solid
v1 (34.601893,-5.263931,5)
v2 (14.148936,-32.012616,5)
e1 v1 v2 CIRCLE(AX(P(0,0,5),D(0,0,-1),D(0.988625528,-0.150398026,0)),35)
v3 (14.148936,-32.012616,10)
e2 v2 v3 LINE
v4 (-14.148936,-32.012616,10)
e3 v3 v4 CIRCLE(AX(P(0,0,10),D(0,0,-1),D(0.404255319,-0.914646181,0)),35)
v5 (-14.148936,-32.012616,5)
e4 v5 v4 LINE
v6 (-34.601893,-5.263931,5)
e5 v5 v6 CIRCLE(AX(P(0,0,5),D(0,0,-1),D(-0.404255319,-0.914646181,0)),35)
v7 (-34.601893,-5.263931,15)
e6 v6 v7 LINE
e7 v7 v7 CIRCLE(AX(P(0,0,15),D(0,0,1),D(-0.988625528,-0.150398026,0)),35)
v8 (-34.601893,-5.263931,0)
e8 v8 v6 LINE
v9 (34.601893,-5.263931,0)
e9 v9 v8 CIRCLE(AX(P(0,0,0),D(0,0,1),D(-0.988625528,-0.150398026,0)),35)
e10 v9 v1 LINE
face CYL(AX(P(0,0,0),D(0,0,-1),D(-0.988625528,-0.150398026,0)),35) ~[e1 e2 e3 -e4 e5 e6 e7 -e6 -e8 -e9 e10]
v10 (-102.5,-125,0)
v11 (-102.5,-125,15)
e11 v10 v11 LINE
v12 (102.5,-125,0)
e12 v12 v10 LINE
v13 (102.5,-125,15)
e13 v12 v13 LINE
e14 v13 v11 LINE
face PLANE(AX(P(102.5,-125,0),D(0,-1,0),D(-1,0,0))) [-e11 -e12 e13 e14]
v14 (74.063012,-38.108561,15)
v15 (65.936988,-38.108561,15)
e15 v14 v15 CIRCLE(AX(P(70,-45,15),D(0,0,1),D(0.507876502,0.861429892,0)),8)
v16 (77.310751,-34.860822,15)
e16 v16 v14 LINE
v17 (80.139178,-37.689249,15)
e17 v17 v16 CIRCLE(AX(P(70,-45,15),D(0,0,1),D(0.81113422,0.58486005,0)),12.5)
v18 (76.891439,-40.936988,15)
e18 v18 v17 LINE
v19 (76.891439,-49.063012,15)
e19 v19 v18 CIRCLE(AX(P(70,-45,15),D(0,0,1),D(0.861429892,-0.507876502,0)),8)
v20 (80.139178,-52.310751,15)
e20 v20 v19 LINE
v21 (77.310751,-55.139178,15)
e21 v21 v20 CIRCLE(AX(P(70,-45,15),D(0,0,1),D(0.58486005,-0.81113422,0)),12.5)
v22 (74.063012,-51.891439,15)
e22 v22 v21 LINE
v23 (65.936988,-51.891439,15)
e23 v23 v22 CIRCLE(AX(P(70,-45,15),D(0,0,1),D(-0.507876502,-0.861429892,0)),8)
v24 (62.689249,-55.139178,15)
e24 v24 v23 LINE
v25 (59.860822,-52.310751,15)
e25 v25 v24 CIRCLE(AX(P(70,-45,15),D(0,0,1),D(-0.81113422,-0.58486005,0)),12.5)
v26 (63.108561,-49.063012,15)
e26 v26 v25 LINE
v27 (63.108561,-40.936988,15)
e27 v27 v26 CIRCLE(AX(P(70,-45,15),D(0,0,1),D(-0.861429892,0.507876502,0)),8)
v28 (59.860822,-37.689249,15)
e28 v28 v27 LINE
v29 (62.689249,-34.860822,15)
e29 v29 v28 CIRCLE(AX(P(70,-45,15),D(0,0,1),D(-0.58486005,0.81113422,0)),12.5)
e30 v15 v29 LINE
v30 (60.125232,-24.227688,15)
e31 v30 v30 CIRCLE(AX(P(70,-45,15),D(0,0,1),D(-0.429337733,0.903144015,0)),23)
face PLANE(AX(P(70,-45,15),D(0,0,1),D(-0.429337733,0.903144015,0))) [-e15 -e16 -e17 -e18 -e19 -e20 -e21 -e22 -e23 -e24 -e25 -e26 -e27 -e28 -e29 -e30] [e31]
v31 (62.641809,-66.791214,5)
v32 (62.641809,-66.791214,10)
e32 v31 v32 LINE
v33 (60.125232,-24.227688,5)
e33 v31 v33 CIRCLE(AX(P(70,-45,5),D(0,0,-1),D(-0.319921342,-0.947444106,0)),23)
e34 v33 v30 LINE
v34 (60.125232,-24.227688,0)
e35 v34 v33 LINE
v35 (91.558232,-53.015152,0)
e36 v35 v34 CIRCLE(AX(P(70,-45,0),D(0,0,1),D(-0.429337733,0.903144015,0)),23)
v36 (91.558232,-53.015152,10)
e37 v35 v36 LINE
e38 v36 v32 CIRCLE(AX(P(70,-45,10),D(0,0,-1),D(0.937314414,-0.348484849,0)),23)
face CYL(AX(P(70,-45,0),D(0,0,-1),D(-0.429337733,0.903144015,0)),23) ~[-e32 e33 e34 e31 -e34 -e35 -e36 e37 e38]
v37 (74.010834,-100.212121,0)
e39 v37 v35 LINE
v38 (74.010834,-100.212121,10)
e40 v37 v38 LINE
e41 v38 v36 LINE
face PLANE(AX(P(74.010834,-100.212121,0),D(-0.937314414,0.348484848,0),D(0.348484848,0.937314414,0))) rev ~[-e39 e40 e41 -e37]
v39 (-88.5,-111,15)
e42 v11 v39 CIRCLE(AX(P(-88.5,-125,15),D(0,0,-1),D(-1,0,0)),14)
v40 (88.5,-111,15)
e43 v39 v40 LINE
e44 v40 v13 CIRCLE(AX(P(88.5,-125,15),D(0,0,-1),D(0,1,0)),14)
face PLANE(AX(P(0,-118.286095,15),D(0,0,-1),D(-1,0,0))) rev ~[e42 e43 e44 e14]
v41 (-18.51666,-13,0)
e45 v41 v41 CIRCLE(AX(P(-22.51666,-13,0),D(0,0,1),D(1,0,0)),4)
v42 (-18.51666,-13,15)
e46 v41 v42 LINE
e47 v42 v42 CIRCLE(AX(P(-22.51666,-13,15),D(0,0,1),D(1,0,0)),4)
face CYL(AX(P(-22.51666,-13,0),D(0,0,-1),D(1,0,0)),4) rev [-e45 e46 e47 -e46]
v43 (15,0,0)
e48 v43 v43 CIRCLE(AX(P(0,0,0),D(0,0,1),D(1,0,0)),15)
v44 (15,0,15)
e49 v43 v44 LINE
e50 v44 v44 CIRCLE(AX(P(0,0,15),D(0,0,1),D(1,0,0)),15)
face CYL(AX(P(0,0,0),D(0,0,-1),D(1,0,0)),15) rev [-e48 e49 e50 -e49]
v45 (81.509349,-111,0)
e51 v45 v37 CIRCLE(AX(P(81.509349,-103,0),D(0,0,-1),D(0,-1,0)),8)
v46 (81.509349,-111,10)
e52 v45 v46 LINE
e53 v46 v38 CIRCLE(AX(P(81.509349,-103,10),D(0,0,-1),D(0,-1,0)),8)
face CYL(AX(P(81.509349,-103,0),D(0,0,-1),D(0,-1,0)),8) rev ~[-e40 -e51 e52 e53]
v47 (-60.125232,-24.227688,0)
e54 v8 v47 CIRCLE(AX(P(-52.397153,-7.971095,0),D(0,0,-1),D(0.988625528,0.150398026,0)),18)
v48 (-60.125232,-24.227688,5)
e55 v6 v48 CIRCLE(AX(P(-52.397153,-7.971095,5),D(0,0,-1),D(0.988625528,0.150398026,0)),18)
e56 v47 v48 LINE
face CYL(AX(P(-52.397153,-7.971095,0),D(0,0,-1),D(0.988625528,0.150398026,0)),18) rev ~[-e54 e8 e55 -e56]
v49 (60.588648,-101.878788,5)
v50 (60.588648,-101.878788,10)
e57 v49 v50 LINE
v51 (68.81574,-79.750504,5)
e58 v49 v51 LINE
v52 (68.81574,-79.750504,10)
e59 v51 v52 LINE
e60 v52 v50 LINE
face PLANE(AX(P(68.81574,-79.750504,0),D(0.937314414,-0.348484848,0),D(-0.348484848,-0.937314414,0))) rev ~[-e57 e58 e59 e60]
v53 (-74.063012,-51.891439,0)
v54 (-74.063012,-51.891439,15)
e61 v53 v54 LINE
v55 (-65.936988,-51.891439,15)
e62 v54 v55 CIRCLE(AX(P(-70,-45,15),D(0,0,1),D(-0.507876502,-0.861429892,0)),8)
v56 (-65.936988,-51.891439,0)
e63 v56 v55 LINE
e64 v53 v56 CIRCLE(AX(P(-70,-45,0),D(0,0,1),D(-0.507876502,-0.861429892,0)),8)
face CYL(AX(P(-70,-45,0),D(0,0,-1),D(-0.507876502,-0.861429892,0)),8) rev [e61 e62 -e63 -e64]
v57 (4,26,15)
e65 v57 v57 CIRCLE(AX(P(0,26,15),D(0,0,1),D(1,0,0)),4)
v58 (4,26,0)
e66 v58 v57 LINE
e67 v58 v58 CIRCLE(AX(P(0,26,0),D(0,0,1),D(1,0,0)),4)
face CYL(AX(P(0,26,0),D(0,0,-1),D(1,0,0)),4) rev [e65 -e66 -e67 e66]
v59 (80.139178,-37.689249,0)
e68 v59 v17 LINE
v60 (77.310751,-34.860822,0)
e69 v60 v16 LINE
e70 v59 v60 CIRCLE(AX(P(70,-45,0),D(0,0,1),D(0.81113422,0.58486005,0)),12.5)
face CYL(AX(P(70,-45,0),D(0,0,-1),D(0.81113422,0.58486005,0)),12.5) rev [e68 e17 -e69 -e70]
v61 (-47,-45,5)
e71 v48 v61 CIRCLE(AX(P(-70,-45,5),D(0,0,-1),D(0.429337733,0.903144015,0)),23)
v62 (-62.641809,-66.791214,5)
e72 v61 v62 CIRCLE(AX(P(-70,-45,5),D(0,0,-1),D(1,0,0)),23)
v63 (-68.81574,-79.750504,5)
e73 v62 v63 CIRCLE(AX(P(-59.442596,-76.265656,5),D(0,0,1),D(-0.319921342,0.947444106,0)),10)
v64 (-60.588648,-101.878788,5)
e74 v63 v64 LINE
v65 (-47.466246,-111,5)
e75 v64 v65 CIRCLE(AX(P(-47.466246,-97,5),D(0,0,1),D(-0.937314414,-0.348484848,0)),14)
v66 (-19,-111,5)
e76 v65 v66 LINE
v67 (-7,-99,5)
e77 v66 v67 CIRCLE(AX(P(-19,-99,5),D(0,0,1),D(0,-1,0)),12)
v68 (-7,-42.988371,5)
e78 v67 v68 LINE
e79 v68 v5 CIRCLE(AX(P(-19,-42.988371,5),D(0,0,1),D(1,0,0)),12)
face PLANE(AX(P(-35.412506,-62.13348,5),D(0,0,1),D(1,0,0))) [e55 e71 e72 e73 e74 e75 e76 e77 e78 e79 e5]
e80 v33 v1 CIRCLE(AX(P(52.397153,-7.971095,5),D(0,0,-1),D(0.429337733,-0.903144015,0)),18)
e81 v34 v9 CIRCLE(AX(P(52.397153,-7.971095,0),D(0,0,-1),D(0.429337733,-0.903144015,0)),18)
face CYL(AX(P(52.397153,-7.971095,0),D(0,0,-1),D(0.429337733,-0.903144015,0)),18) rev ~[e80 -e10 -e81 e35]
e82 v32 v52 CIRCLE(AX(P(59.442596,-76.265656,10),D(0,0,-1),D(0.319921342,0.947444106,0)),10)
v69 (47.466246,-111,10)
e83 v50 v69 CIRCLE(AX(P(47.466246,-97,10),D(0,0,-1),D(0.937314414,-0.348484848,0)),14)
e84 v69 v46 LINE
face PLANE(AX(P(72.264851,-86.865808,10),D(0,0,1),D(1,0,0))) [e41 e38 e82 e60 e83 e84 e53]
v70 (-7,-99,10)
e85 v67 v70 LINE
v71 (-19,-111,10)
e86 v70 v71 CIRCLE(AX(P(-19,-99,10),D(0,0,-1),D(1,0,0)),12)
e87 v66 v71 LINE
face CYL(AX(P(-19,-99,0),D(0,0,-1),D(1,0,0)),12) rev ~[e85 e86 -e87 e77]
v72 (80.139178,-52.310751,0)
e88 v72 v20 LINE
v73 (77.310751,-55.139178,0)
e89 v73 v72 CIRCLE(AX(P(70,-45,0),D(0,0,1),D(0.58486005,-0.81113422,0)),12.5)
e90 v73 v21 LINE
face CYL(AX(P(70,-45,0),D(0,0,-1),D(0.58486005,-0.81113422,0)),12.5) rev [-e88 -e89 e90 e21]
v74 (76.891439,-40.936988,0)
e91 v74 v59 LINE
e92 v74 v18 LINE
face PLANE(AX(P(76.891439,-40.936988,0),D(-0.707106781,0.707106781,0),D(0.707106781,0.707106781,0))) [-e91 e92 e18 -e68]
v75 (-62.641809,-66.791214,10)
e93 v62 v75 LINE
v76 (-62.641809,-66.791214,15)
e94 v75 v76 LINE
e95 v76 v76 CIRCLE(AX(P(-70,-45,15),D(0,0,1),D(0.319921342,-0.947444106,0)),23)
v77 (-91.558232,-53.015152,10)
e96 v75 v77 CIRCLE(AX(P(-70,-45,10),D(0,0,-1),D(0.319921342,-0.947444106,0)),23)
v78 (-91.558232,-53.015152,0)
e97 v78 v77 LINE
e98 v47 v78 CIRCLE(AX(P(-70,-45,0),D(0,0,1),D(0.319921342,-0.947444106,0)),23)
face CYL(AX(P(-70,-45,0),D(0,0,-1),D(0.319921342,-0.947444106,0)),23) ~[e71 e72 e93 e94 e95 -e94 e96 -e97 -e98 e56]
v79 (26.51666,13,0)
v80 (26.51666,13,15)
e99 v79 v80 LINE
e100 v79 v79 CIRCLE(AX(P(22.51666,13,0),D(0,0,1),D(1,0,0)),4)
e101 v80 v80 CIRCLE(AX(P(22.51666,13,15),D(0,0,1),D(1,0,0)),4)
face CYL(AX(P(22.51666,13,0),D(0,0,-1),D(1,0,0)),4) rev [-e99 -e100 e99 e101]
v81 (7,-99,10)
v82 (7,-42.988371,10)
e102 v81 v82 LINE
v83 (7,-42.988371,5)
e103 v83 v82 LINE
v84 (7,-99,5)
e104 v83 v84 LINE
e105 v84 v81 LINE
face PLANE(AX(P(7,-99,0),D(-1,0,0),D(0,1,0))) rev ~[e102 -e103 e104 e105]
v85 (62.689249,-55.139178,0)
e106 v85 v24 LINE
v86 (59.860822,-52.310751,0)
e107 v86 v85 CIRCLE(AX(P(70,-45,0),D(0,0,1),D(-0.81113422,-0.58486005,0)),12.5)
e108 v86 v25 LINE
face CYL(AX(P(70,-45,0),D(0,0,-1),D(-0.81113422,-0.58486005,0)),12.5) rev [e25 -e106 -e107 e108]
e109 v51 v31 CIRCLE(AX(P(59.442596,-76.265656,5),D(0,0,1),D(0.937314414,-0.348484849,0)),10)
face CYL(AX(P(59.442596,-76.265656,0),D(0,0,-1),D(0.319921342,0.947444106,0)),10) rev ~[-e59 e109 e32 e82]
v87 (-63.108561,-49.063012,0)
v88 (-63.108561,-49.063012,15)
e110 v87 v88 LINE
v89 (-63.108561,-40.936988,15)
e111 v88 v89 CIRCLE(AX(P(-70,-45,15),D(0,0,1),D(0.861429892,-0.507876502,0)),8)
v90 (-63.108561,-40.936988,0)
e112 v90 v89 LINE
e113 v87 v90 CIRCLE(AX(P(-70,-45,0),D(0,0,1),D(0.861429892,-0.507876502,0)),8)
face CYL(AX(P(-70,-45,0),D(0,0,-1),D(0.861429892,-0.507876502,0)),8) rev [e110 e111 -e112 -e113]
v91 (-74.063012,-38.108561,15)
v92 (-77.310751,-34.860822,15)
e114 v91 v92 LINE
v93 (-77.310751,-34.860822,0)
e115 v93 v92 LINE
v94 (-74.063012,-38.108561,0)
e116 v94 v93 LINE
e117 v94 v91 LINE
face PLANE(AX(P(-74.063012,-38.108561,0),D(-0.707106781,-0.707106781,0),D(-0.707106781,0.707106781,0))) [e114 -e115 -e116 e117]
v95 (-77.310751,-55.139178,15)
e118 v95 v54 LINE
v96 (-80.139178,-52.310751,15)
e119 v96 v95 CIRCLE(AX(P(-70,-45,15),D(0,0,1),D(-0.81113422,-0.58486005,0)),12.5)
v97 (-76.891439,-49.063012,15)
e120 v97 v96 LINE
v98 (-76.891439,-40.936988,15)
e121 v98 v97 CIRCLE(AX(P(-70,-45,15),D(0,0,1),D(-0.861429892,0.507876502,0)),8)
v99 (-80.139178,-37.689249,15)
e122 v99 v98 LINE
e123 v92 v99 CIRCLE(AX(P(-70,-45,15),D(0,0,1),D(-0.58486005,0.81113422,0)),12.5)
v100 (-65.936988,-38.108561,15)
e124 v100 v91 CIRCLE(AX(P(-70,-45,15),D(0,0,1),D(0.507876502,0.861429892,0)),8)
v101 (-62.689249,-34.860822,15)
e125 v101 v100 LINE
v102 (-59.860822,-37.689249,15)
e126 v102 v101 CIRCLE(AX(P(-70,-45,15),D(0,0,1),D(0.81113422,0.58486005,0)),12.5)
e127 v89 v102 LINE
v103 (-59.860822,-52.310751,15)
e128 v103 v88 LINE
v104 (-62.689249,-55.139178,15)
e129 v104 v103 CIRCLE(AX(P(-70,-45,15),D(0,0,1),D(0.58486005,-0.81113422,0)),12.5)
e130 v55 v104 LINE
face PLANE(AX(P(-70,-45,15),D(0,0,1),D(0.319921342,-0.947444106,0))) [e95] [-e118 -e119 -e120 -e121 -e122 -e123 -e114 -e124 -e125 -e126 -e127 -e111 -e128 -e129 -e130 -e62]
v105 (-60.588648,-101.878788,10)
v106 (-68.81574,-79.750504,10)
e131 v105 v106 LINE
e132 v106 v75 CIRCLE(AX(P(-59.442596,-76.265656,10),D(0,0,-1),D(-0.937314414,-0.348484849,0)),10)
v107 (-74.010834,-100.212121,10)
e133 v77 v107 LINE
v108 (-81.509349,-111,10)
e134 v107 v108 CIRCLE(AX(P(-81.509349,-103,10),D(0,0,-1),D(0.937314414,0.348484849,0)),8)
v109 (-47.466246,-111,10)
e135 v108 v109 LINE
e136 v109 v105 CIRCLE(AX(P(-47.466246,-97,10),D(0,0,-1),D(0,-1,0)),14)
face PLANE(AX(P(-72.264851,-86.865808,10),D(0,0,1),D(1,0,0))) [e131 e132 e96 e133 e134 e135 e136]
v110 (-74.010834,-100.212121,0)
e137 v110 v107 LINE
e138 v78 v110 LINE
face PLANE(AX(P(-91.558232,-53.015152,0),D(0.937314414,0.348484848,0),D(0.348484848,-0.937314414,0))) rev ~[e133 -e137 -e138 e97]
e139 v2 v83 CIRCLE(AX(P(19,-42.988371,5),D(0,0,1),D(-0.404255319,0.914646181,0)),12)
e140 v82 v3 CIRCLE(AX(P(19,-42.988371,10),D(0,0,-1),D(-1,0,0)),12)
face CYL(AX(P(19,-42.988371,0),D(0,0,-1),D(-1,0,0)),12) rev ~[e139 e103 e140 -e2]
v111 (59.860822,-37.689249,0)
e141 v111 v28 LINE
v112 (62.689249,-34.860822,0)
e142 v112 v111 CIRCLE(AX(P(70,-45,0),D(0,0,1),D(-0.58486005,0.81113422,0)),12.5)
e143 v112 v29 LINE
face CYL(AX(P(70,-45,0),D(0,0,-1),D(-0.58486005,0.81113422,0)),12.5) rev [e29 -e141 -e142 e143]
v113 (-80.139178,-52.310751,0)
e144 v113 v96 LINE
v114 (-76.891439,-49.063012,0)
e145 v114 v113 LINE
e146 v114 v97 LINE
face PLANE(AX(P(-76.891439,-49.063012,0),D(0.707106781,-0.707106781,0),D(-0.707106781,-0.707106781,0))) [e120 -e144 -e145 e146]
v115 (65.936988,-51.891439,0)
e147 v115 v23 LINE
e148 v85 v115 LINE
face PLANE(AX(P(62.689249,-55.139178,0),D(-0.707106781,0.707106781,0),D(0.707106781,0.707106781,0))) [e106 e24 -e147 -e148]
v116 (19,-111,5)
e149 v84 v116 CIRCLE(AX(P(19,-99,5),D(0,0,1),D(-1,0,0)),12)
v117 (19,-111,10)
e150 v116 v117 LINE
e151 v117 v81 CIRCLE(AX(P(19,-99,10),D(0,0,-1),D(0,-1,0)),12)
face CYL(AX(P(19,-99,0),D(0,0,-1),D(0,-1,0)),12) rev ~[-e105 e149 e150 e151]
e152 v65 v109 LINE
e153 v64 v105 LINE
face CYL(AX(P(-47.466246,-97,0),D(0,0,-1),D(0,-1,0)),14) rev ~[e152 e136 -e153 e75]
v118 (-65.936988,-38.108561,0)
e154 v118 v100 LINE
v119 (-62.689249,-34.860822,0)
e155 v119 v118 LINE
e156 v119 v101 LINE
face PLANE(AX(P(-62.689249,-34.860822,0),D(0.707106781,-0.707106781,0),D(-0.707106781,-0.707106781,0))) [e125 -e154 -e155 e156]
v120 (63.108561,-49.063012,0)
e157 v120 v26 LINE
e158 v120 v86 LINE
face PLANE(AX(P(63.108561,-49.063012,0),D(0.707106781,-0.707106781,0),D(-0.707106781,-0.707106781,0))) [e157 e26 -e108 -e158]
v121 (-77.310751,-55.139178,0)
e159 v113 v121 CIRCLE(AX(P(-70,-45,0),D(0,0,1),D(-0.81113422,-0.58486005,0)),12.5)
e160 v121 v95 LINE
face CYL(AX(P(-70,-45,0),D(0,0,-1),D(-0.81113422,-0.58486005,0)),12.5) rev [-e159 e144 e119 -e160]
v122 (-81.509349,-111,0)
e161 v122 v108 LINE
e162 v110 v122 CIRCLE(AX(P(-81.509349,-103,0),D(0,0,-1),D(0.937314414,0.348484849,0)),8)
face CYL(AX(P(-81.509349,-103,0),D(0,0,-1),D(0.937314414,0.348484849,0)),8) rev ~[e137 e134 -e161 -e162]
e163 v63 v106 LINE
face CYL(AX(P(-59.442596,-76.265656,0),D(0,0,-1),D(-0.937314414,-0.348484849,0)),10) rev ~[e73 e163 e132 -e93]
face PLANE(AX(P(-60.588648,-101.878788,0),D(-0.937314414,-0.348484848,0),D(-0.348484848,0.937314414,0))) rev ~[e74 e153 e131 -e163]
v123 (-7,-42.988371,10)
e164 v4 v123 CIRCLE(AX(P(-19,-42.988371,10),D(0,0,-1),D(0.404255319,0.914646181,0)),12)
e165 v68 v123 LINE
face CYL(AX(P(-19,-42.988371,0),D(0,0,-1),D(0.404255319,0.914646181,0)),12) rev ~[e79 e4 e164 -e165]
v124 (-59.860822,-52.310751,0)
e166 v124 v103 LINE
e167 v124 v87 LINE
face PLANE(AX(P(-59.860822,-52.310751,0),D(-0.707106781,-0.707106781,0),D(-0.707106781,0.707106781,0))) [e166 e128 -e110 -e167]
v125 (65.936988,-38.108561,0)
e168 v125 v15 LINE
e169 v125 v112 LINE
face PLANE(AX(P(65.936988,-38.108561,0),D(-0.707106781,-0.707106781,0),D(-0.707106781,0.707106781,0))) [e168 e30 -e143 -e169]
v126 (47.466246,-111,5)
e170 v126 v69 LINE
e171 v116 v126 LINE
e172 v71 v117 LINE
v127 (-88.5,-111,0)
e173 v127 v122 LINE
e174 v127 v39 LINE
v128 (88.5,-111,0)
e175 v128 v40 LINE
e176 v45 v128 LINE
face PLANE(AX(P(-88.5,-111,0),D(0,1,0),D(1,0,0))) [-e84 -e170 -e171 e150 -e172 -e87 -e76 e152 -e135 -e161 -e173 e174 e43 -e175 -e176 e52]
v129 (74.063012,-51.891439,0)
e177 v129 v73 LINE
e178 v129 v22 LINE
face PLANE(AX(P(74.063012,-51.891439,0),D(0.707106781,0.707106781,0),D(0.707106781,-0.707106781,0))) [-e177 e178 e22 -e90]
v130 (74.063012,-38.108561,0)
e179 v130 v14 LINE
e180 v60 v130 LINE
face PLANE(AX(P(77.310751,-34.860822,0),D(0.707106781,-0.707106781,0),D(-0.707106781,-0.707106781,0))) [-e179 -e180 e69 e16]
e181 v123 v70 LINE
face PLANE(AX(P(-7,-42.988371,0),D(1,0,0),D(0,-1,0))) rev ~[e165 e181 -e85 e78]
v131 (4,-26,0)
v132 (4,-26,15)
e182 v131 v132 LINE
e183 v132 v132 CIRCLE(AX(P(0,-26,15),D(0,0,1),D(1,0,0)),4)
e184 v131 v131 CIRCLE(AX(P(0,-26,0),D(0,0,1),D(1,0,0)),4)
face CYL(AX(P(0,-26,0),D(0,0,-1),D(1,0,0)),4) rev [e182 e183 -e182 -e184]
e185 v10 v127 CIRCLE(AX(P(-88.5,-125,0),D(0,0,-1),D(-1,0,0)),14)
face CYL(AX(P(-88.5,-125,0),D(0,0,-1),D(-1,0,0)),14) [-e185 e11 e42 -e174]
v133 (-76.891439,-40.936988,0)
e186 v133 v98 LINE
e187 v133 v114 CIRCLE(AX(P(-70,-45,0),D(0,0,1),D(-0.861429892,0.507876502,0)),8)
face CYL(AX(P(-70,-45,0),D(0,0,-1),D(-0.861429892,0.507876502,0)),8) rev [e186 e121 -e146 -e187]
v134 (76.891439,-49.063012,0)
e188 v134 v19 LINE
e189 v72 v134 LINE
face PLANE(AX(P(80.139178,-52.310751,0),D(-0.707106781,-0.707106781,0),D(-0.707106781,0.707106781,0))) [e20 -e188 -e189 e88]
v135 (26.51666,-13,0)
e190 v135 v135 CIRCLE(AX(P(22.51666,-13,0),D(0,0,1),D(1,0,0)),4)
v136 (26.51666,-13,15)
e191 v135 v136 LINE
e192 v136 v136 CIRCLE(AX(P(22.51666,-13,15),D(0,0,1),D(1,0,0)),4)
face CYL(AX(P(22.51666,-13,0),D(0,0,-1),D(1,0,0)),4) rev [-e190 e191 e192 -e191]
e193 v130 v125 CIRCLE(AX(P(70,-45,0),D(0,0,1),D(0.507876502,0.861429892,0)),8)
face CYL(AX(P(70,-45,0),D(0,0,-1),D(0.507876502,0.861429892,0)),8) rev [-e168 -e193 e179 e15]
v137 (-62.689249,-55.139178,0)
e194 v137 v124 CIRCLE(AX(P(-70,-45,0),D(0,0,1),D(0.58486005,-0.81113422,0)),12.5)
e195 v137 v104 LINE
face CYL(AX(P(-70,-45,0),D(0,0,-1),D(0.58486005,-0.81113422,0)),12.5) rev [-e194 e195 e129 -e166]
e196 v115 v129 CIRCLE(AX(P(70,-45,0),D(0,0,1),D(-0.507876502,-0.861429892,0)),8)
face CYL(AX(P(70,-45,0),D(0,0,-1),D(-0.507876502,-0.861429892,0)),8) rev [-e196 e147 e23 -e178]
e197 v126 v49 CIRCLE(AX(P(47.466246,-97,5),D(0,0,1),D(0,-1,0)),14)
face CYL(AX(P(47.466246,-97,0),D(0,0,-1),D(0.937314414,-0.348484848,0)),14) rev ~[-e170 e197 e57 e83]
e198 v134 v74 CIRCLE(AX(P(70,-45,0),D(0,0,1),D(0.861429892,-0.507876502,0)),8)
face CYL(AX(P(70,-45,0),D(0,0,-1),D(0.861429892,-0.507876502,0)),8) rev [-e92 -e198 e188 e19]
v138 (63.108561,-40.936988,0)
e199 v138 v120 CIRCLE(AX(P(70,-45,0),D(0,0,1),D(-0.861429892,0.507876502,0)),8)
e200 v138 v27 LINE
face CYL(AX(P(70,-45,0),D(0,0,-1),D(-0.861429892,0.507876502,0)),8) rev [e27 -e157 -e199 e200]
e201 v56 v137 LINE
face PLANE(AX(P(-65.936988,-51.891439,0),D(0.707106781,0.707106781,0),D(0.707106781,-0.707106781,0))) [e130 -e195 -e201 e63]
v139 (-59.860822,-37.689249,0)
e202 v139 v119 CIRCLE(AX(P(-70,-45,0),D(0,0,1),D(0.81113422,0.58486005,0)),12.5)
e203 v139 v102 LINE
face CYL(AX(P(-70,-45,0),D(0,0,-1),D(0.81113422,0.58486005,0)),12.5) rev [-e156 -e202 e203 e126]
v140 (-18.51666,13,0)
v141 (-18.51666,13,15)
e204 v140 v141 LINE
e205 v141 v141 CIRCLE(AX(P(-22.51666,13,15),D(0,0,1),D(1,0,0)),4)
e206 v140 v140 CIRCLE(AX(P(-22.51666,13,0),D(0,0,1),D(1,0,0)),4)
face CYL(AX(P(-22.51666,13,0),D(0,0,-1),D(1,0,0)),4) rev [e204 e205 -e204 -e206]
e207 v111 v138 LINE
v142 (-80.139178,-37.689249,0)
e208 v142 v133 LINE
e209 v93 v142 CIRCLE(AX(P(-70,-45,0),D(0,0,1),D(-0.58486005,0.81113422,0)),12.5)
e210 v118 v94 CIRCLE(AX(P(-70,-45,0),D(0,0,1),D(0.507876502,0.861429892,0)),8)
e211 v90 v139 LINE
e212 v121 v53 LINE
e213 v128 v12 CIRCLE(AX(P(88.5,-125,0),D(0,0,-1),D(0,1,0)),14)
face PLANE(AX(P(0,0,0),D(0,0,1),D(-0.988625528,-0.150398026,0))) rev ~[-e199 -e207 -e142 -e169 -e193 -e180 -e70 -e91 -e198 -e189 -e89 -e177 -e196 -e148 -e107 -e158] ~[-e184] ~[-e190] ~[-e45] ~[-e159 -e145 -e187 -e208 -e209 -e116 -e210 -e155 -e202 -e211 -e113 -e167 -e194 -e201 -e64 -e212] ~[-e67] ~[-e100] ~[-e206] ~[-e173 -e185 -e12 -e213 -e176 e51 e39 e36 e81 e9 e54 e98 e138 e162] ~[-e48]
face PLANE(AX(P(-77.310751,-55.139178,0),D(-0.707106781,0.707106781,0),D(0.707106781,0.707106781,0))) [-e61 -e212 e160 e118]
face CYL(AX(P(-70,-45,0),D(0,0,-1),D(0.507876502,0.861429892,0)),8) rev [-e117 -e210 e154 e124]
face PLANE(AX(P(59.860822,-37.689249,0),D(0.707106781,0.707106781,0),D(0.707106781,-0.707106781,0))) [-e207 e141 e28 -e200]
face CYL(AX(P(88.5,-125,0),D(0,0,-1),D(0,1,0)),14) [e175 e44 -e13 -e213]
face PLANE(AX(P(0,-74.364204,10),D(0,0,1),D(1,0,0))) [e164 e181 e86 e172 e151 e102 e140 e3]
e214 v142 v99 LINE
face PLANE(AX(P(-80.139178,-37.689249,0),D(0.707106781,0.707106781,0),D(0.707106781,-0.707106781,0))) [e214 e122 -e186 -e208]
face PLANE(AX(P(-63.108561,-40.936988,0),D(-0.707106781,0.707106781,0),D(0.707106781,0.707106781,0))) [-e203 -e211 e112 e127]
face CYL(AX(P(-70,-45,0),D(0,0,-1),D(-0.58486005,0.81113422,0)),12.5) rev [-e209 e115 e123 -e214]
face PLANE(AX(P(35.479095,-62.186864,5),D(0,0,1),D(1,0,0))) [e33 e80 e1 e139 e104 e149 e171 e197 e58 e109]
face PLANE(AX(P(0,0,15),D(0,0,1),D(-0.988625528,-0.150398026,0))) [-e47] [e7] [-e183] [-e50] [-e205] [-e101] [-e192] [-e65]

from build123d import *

# Parameters (mm, degrees)
EXTRUDE_1_DEPTH   = 5
EXTRUDE_1_2_DEPTH = 5
SKETCH_1_3_R      = 35
SKETCH_1_3_R_2    = 4
SKETCH_1_3_R_3    = 15
SKETCH_1_3_R_4    = 23
EXTRUDE_2_DEPTH   = 15
EXTRUDE_3_DEPTH   = 10


with BuildPart() as part:
    # Эскиз1 → Бобышка-Вытянуть1 (new body)
    with BuildSketch(Plane.XY):
        with BuildLine():
            Line((-7, -99), (-7, -42.98837052))
            ThreePointArc((-7, -42.98837052), (-8.944833021, -36.439048645), (-14.14893617, -32.012616345))
            ThreePointArc((-14.14893617, -32.012616345), (-27.803487019, -21.259494575), (-34.601893463, -5.263930923))
            ThreePointArc((-34.601893463, -5.263930923), (-41.662021509, -22.419519283), (-60.125232147, -24.227687662))
            ThreePointArc((-60.125232147, -24.227687662), (-47.040096479, -46.357508857), (-62.641809124, -66.791214446))
            ThreePointArc((-62.641809124, -66.791214446), (-68.470432654, -71.964706785), (-68.815739838, -79.750503994))
            Line((-68.815739838, -79.750503994), (-60.588648114, -101.878787879))
            ThreePointArc((-60.588648114, -101.878787879), (-55.456771013, -108.495717253), (-47.466246321, -111))
            Line((-47.466246321, -111), (-19, -111))
            ThreePointArc((-19, -111), (-10.514718626, -107.485281374), (-7, -99))
        make_face()
    extrude(amount=EXTRUDE_1_DEPTH)



with BuildPart() as body_2:
    # Эскиз1 → Extrude 1 2 (new body)
    with BuildSketch(Plane.XY):
        with BuildLine():
            ThreePointArc((34.601893463, -5.263930923), (27.803487019, -21.259494575), (14.14893617, -32.012616345))
            ThreePointArc((14.14893617, -32.012616345), (8.944833021, -36.439048645), (7, -42.98837052))
            Line((7, -42.98837052), (7, -99))
            ThreePointArc((7, -99), (10.514718626, -107.485281374), (19, -111))
            Line((19, -111), (47.466246321, -111))
            ThreePointArc((47.466246321, -111), (55.456771013, -108.495717253), (60.588648114, -101.878787879))
            Line((60.588648114, -101.878787879), (68.815739838, -79.750503994))
            ThreePointArc((68.815739838, -79.750503994), (68.470432654, -71.964706785), (62.641809124, -66.791214446))
            ThreePointArc((62.641809124, -66.791214446), (47.040096479, -46.357508857), (60.125232147, -24.227687662))
            ThreePointArc((60.125232147, -24.227687662), (41.662021509, -22.419519283), (34.601893463, -5.263930923))
        make_face()
    extrude(amount=EXTRUDE_1_2_DEPTH)


with BuildPart() as part_1:
    add(part.part)

    add(body_2.part)  # Бобышка-Вытянуть2 merges body 2
    # Эскиз1<3> → Бобышка-Вытянуть2 (add)
    # profile 1 of 4: a face of its own
    with BuildSketch(Plane.XY):
        Circle(SKETCH_1_3_R)
        with Locations((0, -26)):
            Circle(SKETCH_1_3_R_2, mode=Mode.SUBTRACT)
        with Locations((-22.516660498, -13)):
            Circle(SKETCH_1_3_R_2, mode=Mode.SUBTRACT)
        Circle(SKETCH_1_3_R_3, mode=Mode.SUBTRACT)
        with Locations((-22.516660498, 13)):
            Circle(SKETCH_1_3_R_2, mode=Mode.SUBTRACT)
        with Locations((0, 26)):
            Circle(SKETCH_1_3_R_2, mode=Mode.SUBTRACT)
        with Locations((22.516660498, -13)):
            Circle(SKETCH_1_3_R_2, mode=Mode.SUBTRACT)
        with Locations((22.516660498, 13)):
            Circle(SKETCH_1_3_R_2, mode=Mode.SUBTRACT)
    # profile 2 of 4: a face of its own
    with BuildSketch(Plane.XY):
        with BuildLine():
            Line((88.5, -111), (-88.5, -111))
            ThreePointArc((-88.5, -111), (-98.399494937, -115.100505063), (-102.5, -125))
            Line((-102.5, -125), (102.5, -125))
            ThreePointArc((102.5, -125), (98.399494937, -115.100505063), (88.5, -111))
        make_face()
    # profile 3 of 4: a face of its own
    with BuildSketch(Plane.XY):
        with Locations((-70, -45)):
            Circle(SKETCH_1_3_R_4)
        with BuildLine():
            ThreePointArc((-59.860822254, -52.310750621), (-61.161165235, -53.838834765), (-62.689249379, -55.139177746))
            Line((-62.689249379, -55.139177746), (-65.936987987, -51.891439137))
            ThreePointArc((-65.936987987, -51.891439137), (-70, -53), (-74.063012013, -51.891439137))
            Line((-74.063012013, -51.891439137), (-77.310750621, -55.139177746))
            ThreePointArc((-77.310750621, -55.139177746), (-78.838834765, -53.838834765), (-80.139177746, -52.310750621))
            Line((-80.139177746, -52.310750621), (-76.891439137, -49.063012013))
            ThreePointArc((-76.891439137, -49.063012013), (-78, -45), (-76.891439137, -40.936987987))
            Line((-76.891439137, -40.936987987), (-80.139177746, -37.689249379))
            ThreePointArc((-80.139177746, -37.689249379), (-78.838834765, -36.161165235), (-77.310750621, -34.860822254))
            Line((-77.310750621, -34.860822254), (-74.063012013, -38.108560863))
            ThreePointArc((-74.063012013, -38.108560863), (-70, -37), (-65.936987987, -38.108560863))
            Line((-65.936987987, -38.108560863), (-62.689249379, -34.860822254))
            ThreePointArc((-62.689249379, -34.860822254), (-61.161165235, -36.161165235), (-59.860822254, -37.689249379))
            Line((-59.860822254, -37.689249379), (-63.108560863, -40.936987987))
            ThreePointArc((-63.108560863, -40.936987987), (-62, -45), (-63.108560863, -49.063012013))
            Line((-63.108560863, -49.063012013), (-59.860822254, -52.310750621))
        make_face(mode=Mode.SUBTRACT)
    # profile 4 of 4: a face of its own
    with BuildSketch(Plane.XY):
        with Locations((70, -45)):
            Circle(SKETCH_1_3_R_4)
        with BuildLine():
            ThreePointArc((59.860822254, -37.689249379), (61.161165235, -36.161165235), (62.689249379, -34.860822254))
            Line((62.689249379, -34.860822254), (65.936987987, -38.108560863))
            ThreePointArc((65.936987987, -38.108560863), (70, -37), (74.063012013, -38.108560863))
            Line((74.063012013, -38.108560863), (77.310750621, -34.860822254))
            ThreePointArc((77.310750621, -34.860822254), (78.838834765, -36.161165235), (80.139177746, -37.689249379))
            Line((80.139177746, -37.689249379), (76.891439137, -40.936987987))
            ThreePointArc((76.891439137, -40.936987987), (78, -45), (76.891439137, -49.063012013))
            Line((76.891439137, -49.063012013), (80.139177746, -52.310750621))
            ThreePointArc((80.139177746, -52.310750621), (78.838834765, -53.838834765), (77.310750621, -55.139177746))
            Line((77.310750621, -55.139177746), (74.063012013, -51.891439137))
            ThreePointArc((74.063012013, -51.891439137), (70, -53), (65.936987987, -51.891439137))
            Line((65.936987987, -51.891439137), (62.689249379, -55.139177746))
            ThreePointArc((62.689249379, -55.139177746), (61.161165235, -53.838834765), (59.860822254, -52.310750621))
            Line((59.860822254, -52.310750621), (63.108560863, -49.063012013))
            ThreePointArc((63.108560863, -49.063012013), (62, -45), (63.108560863, -40.936987987))
            Line((63.108560863, -40.936987987), (59.860822254, -37.689249379))
        make_face(mode=Mode.SUBTRACT)
    extrude(amount=EXTRUDE_2_DEPTH)

    # Эскиз1<4> → Бобышка-Вытянуть3 (add)
    with BuildSketch(Plane.XY):
        with BuildLine():
            ThreePointArc((-14.14893617, -32.012616345), (-8.944833021, -36.439048645), (-7, -42.98837052))
            Line((-7, -42.98837052), (-7, -99))
            ThreePointArc((-7, -99), (-10.514718626, -107.485281374), (-19, -111))
            Line((-19, -111), (19, -111))
            ThreePointArc((19, -111), (10.514718626, -107.485281374), (7, -99))
            Line((7, -99), (7, -42.98837052))
            ThreePointArc((7, -42.98837052), (8.944833021, -36.439048645), (14.14893617, -32.012616345))
            ThreePointArc((14.14893617, -32.012616345), (0, -35), (-14.14893617, -32.012616345))
        make_face()
        with BuildLine():
            Line((-81.509349081, -111), (-47.466246321, -111))
            ThreePointArc((-47.466246321, -111), (-55.456771013, -108.495717253), (-60.588648114, -101.878787879))
            Line((-60.588648114, -101.878787879), (-68.815739838, -79.750503994))
            ThreePointArc((-68.815739838, -79.750503994), (-68.470432654, -71.964706785), (-62.641809124, -66.791214446))
            ThreePointArc((-62.641809124, -66.791214446), (-79.892182066, -65.764024994), (-91.558231518, -53.015151515))
            Line((-91.558231518, -53.015151515), (-74.010833771, -100.212121212))
            ThreePointArc((-74.010833771, -100.212121212), (-74.940367794, -107.56601411), (-81.509349081, -111))
        make_face()
        with BuildLine():
            ThreePointArc((60.588648114, -101.878787879), (55.456771013, -108.495717253), (47.466246321, -111))
            Line((47.466246321, -111), (81.509349081, -111))
            ThreePointArc((81.509349081, -111), (74.940367794, -107.56601411), (74.010833771, -100.212121212))
            Line((74.010833771, -100.212121212), (91.558231518, -53.015151515))
            ThreePointArc((91.558231518, -53.015151515), (79.892182066, -65.764024994), (62.641809124, -66.791214446))
            ThreePointArc((62.641809124, -66.791214446), (68.470432654, -71.964706785), (68.815739838, -79.750503994))
            Line((68.815739838, -79.750503994), (60.588648114, -101.878787879))
        make_face()
    extrude(amount=EXTRUDE_3_DEPTH)


solid = part_1.part
